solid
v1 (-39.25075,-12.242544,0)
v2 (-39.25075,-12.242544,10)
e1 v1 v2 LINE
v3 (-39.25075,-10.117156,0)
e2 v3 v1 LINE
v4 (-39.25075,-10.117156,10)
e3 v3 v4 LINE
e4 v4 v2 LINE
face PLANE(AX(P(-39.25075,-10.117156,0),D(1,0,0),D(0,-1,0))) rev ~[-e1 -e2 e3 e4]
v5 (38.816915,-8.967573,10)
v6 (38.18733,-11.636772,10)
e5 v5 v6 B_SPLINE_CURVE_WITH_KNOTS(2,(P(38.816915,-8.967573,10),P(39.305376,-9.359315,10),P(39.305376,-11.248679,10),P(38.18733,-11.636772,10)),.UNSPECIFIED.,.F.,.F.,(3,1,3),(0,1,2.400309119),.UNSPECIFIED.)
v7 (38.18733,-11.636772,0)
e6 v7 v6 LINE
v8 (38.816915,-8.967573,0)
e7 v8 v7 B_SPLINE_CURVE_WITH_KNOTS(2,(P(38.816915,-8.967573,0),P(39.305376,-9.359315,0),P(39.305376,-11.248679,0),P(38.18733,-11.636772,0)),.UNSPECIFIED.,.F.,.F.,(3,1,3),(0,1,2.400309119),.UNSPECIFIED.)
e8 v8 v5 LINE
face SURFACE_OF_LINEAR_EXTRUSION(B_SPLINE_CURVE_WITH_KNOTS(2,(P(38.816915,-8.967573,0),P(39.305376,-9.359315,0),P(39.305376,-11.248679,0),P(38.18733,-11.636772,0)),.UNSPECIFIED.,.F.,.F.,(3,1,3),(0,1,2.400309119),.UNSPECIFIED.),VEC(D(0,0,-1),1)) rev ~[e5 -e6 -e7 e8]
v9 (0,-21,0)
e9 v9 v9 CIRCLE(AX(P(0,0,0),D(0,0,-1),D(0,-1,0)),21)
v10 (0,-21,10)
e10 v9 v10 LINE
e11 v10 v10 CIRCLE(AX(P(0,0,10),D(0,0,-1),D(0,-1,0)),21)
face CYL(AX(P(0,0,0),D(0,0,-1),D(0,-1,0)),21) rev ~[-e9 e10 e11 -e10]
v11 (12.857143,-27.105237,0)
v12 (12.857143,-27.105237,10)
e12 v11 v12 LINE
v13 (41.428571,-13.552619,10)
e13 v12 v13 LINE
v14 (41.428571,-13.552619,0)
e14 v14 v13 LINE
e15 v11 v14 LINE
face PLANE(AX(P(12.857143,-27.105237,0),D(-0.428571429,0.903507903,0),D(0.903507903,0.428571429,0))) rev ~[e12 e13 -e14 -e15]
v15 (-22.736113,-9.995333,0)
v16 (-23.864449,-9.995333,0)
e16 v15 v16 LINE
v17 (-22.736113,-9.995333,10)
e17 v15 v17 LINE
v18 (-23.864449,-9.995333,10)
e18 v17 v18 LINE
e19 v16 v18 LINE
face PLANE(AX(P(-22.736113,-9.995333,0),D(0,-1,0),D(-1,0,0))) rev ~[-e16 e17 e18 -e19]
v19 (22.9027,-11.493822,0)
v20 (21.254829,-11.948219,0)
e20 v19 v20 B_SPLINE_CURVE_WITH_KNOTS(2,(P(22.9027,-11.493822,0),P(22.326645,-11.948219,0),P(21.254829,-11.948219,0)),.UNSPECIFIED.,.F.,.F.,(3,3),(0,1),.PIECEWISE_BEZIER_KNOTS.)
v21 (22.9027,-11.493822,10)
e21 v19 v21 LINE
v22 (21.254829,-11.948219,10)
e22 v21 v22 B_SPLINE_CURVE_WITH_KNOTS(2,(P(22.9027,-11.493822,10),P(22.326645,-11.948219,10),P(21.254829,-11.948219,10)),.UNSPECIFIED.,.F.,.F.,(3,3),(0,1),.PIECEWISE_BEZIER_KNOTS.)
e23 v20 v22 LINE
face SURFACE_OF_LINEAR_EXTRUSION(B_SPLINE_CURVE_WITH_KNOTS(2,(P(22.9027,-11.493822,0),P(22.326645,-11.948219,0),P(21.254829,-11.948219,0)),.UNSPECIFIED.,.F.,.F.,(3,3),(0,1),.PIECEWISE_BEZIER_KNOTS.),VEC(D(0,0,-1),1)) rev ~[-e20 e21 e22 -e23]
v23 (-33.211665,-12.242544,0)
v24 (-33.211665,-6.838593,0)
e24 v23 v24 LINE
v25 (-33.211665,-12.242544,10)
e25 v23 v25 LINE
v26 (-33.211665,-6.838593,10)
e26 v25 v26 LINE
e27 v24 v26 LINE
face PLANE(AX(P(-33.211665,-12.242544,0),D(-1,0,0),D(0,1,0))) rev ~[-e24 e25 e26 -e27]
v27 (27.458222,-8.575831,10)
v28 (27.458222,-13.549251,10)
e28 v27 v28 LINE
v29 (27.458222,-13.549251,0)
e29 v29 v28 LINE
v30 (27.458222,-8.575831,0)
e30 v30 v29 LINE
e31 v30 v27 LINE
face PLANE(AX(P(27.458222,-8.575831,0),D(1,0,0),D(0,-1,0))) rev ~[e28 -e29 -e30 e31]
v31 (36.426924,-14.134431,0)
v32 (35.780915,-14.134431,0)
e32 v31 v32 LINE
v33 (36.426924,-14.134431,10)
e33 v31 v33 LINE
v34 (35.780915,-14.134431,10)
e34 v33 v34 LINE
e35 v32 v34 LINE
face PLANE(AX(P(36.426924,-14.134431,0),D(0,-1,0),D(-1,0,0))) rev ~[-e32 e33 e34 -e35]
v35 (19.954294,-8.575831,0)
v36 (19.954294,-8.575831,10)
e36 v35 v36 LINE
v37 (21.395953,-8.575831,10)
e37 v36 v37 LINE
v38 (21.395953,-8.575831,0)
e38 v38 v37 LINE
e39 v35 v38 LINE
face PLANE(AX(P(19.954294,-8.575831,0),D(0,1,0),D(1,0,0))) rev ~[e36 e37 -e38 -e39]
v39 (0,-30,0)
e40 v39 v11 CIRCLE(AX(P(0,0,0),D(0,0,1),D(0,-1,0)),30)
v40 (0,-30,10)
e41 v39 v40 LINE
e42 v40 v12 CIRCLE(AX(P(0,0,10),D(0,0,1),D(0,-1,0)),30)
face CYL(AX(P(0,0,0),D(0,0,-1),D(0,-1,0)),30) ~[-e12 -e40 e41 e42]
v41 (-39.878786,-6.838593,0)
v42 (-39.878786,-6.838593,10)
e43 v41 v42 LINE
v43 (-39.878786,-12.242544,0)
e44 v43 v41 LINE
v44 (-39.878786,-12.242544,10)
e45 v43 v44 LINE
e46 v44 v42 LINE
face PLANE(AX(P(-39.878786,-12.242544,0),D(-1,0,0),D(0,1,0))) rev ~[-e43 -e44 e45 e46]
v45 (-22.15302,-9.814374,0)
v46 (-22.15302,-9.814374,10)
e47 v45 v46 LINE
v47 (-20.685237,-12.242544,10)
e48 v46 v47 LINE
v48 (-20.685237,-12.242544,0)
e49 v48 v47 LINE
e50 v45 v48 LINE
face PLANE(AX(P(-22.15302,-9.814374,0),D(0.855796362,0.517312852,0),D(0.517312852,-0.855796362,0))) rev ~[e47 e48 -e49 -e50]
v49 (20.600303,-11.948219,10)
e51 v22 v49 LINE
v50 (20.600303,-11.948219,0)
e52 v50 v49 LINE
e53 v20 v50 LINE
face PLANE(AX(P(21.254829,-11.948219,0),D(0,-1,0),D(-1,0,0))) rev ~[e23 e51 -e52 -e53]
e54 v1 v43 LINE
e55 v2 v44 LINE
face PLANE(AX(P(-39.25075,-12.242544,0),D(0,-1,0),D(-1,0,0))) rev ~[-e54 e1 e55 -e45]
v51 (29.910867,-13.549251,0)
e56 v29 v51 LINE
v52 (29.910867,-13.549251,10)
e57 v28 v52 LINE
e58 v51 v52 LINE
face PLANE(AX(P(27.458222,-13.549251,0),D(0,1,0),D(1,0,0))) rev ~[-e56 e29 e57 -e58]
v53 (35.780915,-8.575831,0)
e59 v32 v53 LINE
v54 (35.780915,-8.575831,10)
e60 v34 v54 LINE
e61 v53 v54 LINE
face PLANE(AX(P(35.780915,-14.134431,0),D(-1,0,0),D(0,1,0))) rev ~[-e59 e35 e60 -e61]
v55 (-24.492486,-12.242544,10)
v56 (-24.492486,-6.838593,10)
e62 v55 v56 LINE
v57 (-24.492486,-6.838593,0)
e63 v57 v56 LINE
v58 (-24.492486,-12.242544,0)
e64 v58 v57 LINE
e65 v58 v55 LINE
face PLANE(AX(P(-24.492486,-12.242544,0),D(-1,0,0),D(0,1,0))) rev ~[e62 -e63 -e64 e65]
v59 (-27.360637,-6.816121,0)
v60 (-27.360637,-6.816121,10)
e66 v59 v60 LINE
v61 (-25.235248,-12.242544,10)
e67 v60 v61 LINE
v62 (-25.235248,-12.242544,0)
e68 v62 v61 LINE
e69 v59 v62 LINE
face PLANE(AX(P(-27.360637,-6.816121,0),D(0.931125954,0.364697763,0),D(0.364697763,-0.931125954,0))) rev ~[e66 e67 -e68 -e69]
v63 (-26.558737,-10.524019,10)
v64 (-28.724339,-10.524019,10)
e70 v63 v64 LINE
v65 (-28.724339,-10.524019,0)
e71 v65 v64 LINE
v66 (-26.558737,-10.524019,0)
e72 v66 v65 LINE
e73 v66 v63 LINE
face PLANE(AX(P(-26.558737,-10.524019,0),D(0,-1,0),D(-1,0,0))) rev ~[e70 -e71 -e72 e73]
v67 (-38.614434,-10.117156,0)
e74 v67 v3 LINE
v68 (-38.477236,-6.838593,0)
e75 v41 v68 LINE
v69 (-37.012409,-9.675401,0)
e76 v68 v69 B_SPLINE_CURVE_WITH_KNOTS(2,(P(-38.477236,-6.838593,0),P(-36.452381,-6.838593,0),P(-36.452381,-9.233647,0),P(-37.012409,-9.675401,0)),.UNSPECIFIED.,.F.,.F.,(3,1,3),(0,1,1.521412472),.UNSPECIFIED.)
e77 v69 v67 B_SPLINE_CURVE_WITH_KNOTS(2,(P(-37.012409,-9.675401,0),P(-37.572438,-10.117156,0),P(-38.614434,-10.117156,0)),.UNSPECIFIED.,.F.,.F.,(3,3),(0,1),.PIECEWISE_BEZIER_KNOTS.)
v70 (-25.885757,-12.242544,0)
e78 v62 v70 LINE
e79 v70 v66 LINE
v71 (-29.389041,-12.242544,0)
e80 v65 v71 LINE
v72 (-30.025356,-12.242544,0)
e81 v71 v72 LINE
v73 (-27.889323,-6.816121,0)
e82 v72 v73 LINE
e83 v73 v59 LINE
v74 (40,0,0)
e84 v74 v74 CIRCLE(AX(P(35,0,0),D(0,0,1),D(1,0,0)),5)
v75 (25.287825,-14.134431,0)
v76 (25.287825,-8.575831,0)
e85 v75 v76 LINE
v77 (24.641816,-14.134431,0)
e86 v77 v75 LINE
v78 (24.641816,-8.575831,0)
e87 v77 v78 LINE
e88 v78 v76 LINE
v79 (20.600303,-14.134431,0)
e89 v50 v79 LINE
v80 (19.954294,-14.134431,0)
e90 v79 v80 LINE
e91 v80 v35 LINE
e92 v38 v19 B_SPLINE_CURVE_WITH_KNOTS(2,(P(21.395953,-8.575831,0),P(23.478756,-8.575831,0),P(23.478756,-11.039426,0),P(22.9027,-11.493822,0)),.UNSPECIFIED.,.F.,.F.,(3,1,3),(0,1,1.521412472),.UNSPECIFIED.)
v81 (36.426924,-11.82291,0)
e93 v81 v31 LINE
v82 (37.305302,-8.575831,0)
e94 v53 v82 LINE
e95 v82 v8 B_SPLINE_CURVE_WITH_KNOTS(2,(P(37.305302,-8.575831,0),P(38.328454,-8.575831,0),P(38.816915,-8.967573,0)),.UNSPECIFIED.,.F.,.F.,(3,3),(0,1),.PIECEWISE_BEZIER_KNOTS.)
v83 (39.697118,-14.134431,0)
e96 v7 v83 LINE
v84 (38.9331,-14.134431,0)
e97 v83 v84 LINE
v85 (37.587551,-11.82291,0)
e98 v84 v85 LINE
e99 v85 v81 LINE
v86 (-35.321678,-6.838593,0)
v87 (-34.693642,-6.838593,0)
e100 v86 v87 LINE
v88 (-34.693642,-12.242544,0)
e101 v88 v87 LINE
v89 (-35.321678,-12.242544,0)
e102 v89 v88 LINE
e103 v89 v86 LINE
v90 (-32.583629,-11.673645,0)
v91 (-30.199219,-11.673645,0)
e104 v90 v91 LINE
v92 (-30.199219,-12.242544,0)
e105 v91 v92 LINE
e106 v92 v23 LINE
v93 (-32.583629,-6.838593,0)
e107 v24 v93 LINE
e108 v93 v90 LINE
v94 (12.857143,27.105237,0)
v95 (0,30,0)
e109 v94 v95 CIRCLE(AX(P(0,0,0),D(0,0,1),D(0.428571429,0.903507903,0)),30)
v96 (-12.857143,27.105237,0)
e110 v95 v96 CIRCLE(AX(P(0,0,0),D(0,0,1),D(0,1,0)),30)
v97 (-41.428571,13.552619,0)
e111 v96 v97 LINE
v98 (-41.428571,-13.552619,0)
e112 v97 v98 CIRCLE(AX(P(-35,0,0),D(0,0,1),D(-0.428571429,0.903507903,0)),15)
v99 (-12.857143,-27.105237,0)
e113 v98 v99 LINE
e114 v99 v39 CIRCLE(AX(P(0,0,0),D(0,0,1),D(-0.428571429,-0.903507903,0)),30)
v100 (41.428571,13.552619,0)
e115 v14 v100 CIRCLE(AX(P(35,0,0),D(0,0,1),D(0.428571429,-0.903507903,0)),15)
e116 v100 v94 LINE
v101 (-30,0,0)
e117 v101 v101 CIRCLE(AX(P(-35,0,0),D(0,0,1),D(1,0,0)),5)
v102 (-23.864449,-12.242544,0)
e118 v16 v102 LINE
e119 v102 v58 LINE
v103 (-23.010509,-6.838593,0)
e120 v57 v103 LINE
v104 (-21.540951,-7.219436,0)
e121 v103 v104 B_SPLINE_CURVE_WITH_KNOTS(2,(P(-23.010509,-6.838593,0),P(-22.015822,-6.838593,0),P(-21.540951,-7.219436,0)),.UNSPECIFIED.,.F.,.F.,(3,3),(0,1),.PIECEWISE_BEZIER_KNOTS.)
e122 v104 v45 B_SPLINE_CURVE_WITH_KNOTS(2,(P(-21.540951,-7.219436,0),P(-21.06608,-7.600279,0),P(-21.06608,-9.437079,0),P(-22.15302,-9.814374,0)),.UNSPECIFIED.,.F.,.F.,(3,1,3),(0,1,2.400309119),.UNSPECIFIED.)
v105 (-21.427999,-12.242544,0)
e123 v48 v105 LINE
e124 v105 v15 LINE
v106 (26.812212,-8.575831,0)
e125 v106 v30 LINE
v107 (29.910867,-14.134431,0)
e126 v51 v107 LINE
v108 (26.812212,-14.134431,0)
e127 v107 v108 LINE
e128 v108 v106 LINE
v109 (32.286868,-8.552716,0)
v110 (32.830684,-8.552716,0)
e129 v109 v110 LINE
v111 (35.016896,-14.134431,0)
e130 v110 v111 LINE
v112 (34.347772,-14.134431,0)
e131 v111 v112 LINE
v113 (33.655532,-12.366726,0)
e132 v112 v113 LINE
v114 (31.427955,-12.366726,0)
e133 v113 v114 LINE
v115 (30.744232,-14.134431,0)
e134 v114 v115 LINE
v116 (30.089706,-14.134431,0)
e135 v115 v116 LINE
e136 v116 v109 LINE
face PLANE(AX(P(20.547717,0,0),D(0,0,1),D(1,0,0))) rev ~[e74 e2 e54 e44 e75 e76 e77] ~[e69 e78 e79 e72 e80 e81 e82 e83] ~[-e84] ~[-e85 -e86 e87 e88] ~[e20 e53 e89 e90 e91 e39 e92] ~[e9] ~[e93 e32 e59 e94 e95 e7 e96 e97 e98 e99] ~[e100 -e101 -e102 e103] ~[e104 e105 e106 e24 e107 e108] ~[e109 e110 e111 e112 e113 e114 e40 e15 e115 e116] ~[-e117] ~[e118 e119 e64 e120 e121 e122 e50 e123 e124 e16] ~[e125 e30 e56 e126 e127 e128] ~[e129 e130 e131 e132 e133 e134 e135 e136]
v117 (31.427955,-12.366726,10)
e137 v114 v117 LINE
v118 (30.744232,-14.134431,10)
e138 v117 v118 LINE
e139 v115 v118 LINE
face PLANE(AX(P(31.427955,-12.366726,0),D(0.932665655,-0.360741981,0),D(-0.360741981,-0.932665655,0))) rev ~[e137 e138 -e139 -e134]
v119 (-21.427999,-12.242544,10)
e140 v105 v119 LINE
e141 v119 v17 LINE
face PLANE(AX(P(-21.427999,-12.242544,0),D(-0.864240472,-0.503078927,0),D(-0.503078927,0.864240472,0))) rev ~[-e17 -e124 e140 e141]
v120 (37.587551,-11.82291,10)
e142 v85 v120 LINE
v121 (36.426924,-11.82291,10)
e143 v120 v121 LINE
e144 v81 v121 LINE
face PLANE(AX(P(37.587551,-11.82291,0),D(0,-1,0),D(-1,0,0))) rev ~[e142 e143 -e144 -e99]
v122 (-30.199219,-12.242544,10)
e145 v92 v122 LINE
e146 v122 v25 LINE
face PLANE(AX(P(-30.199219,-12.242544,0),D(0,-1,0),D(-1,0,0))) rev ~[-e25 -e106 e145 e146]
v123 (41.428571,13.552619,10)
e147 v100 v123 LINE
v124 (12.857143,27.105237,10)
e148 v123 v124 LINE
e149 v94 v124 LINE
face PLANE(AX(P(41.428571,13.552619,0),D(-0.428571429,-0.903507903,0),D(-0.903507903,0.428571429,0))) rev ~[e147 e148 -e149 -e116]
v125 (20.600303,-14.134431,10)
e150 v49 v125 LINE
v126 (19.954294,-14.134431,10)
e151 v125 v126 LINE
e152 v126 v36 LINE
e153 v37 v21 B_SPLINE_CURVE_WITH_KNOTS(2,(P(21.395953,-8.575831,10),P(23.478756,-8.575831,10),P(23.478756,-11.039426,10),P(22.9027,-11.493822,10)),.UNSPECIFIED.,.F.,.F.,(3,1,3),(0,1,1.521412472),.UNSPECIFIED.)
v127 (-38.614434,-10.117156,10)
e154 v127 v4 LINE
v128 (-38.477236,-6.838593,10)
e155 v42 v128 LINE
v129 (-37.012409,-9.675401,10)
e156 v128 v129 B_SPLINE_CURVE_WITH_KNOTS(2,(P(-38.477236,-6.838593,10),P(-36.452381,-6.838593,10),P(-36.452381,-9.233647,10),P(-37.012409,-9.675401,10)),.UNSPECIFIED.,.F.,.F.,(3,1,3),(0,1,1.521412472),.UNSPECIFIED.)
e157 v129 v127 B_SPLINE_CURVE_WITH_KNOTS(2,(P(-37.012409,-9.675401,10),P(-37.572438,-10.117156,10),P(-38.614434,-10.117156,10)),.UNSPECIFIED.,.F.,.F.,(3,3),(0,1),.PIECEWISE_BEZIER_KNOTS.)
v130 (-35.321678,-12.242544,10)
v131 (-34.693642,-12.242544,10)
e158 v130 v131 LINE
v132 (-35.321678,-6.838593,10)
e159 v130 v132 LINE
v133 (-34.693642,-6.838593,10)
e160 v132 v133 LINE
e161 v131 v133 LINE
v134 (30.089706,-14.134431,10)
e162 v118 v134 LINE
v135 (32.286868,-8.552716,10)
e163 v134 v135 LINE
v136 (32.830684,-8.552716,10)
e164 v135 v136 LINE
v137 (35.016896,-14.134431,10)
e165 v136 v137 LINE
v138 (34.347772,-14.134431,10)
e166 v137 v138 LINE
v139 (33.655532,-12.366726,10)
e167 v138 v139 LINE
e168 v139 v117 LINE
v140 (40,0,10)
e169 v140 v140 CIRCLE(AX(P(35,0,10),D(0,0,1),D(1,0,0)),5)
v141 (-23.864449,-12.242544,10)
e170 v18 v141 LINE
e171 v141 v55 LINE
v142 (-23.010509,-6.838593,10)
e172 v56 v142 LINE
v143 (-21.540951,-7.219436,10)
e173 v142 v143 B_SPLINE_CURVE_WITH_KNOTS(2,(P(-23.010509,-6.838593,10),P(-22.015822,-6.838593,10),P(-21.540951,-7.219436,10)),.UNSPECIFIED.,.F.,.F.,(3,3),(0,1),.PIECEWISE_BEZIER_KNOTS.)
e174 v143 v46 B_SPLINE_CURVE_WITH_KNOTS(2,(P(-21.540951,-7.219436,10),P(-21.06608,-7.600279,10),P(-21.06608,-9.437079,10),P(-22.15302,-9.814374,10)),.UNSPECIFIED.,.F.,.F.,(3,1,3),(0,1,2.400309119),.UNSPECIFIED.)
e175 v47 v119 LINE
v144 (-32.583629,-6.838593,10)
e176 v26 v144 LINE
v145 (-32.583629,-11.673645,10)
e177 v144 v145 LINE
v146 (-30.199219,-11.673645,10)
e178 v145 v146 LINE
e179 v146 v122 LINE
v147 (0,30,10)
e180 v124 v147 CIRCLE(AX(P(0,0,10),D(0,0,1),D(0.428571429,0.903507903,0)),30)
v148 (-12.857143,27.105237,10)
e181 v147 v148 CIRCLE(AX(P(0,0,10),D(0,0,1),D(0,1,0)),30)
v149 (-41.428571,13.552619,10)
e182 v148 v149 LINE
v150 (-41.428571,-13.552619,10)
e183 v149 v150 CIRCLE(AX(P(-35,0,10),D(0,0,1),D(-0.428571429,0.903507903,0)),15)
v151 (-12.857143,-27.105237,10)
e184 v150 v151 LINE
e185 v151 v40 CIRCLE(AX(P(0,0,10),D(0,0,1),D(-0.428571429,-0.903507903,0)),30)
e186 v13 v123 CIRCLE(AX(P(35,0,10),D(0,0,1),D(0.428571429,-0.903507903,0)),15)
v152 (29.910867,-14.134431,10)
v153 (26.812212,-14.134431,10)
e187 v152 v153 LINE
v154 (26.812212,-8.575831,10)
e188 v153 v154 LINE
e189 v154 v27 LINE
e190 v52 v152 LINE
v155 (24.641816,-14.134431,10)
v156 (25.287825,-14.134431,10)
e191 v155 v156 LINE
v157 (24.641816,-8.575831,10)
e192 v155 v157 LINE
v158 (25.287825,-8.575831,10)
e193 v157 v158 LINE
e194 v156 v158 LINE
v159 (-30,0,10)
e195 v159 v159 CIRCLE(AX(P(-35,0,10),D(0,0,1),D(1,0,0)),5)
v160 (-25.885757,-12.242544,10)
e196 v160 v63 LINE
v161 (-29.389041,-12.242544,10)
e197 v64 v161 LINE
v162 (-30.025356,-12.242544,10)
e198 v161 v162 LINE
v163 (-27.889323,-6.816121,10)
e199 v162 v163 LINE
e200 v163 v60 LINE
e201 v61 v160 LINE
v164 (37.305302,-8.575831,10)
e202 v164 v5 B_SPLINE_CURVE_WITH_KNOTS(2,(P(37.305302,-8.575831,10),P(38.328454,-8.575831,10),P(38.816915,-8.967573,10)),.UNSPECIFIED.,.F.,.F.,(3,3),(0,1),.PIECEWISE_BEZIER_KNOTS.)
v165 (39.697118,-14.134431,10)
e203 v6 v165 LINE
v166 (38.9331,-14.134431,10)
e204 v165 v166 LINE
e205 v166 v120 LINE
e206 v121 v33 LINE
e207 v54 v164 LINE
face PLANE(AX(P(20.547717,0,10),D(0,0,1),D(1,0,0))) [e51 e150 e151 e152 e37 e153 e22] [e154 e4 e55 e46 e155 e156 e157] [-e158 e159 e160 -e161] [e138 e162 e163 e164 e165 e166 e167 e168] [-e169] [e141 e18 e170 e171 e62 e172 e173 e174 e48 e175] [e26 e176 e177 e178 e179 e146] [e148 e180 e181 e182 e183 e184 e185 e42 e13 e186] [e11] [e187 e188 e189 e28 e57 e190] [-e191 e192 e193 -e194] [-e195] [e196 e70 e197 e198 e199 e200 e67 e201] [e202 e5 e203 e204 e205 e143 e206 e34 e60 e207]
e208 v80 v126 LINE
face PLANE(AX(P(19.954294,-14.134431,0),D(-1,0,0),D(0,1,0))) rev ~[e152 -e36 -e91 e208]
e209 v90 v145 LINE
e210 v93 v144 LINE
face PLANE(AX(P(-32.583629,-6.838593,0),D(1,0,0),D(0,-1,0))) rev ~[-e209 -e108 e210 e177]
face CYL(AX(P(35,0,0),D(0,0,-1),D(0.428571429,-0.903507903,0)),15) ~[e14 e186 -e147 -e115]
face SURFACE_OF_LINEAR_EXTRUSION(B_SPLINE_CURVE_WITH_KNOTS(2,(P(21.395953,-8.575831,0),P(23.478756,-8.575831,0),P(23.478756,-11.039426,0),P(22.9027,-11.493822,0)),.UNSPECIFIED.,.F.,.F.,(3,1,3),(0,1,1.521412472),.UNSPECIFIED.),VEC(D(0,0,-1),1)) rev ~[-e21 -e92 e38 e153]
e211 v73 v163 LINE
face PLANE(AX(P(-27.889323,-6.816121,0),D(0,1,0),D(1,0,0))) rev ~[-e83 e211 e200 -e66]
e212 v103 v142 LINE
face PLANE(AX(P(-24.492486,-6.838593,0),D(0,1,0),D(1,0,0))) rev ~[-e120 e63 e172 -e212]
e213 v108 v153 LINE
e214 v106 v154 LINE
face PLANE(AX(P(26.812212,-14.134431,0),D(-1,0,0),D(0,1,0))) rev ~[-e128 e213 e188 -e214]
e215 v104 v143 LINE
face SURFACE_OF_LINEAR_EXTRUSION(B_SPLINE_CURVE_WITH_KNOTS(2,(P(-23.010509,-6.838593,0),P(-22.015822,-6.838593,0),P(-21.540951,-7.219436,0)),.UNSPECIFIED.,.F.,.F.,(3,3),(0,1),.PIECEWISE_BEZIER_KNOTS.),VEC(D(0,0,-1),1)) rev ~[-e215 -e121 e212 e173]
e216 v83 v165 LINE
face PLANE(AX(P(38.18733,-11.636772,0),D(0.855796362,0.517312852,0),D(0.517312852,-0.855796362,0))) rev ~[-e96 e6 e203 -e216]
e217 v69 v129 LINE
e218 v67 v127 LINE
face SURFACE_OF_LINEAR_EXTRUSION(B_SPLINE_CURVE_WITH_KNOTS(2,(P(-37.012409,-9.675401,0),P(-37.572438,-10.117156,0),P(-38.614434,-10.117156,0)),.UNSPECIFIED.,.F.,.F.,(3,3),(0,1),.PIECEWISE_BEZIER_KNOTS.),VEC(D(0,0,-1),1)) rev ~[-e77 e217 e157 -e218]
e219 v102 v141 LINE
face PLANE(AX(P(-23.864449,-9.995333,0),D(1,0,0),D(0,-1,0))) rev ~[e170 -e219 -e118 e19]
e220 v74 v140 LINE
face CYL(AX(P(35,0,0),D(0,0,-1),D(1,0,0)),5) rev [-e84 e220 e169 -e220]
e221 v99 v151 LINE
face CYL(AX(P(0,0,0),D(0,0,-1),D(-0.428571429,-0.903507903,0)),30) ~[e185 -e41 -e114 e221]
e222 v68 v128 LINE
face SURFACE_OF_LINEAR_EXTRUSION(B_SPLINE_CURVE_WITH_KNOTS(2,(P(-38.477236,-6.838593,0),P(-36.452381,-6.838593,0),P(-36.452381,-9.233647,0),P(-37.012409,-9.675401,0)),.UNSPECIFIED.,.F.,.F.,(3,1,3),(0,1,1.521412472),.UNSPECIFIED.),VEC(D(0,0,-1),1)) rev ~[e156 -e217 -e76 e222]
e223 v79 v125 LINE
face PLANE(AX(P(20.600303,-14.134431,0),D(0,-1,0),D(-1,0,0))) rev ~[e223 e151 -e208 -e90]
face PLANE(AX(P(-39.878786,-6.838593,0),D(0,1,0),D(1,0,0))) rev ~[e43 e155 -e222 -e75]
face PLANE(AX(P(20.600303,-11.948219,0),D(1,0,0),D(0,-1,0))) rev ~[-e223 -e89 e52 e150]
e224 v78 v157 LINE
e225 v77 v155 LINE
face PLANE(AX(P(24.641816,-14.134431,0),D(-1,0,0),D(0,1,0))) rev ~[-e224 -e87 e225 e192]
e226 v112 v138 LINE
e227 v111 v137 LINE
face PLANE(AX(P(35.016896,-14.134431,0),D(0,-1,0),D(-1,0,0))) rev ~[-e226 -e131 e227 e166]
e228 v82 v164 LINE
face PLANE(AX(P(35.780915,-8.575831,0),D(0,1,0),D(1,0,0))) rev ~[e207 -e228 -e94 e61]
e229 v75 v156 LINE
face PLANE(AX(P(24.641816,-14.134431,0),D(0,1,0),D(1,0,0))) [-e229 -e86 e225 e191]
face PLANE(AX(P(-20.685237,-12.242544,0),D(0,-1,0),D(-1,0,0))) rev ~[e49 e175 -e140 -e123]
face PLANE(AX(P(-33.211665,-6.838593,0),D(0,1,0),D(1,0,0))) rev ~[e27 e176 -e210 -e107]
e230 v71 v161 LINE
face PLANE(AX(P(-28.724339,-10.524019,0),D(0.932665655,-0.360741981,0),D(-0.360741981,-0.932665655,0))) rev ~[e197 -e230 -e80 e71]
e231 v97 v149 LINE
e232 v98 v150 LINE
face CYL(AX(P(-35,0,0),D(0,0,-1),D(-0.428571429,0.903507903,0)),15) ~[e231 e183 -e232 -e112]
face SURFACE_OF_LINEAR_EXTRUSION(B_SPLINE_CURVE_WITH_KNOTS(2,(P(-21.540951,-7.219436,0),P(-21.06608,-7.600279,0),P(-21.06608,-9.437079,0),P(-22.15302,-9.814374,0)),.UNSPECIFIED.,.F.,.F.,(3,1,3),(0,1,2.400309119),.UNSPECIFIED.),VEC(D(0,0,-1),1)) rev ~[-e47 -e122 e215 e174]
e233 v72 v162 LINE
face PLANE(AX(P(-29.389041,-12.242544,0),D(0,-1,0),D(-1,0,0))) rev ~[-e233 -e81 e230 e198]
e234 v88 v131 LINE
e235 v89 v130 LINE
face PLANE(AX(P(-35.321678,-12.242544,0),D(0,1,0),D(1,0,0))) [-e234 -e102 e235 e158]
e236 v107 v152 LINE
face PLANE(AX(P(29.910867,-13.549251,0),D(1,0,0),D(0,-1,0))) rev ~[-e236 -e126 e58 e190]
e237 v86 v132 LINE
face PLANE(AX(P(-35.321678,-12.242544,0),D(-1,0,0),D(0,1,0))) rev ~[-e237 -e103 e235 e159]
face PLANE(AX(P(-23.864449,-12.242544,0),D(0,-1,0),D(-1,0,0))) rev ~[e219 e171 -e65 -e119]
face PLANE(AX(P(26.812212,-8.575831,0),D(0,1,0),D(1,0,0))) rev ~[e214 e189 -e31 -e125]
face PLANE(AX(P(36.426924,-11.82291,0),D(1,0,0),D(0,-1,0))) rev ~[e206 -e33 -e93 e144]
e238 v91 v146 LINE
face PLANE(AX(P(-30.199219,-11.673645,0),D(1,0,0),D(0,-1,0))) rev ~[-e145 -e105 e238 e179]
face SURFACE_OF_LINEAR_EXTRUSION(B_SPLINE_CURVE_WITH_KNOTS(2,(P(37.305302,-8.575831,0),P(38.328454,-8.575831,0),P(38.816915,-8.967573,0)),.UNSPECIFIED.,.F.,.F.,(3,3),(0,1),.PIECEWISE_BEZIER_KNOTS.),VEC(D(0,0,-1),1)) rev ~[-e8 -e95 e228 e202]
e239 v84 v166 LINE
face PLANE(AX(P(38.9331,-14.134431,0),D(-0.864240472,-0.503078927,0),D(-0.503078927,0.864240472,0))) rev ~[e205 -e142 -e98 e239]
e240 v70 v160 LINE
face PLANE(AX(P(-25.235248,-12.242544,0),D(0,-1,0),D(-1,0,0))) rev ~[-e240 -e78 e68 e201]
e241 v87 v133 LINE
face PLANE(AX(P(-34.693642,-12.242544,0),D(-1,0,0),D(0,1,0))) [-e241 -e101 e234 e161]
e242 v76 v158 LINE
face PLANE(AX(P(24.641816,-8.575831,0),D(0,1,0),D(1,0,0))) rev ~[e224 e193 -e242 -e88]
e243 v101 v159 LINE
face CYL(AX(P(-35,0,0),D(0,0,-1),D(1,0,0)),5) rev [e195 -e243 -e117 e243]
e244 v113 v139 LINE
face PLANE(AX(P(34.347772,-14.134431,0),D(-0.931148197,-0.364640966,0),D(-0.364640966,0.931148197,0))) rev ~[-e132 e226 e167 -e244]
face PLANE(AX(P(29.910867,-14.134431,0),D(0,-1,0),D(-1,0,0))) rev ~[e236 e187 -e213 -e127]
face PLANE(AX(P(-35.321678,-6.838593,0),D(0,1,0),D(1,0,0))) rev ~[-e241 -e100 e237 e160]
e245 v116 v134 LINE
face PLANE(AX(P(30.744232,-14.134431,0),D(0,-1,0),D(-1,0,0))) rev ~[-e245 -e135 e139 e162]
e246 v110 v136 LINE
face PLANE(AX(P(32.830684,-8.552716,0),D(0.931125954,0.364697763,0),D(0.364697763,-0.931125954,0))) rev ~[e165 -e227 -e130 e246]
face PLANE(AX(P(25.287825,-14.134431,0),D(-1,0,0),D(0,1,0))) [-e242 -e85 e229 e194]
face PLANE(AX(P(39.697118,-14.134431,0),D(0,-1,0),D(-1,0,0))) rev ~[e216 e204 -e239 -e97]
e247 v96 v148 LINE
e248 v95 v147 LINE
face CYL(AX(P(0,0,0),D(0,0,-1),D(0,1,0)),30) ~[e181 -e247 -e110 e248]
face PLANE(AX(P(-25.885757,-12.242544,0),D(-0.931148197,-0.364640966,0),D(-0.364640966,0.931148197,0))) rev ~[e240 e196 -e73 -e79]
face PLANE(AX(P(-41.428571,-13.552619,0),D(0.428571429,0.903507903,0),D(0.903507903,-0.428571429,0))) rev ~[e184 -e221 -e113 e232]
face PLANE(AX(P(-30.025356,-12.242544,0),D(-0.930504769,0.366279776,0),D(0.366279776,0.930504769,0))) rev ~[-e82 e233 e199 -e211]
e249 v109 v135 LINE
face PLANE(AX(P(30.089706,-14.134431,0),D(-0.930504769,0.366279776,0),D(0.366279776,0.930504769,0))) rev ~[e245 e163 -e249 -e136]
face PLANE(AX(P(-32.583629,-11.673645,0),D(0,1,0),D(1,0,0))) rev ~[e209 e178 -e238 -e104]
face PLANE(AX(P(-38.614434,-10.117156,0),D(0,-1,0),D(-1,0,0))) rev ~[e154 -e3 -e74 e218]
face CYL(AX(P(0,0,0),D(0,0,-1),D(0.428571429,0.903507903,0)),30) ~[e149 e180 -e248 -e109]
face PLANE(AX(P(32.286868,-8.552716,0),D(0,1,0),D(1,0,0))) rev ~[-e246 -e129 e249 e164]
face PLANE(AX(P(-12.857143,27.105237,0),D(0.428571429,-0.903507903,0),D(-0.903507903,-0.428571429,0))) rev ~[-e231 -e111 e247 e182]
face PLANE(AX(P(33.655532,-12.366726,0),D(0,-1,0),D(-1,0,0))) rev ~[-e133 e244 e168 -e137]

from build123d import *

# Parameters (mm, degrees)
F0_W     = 0.6460093453
F0_H     = 5.5586001861
F0_R     = 5
F0_W_2   = 0.6280364187
F0_H_2   = 5.4039517833
F1_DEPTH = 10


with BuildPart() as f1:
    # F0 (on Top) → F1 (new body)
    with BuildSketch(Plane.XY):
        with BuildLine():
            ThreePointArc((0, 21), (21, 0), (0, -21))
            Line((0, -21), (0, -30))
            ThreePointArc((0, -30), (6.5894949497, -29.2673633303), (12.8571428571, -27.1052370872))
            Line((12.8571428571, -27.1052370872), (41.4285714286, -13.5526185436))
            ThreePointArc((41.4285714286, -13.5526185436), (50, 0), (41.4285714286, 13.5526185436))
            Line((41.4285714286, 13.5526185436), (12.8571428571, 27.1052370872))
            ThreePointArc((12.8571428571, 27.1052370872), (6.5894949497, 29.2673633303), (0, 30))
            Line((0, 30), (0, 21))
        make_face()
        with BuildLine():
            add(Edge.make_bspline(
                [(21.3959532578, -8.5758308066), (23.4787555162, -8.5758308066), (23.4787555162, -10.1951122353)],
                knots=[0, 0, 0, 1, 1, 1], degree=2))
            add(Edge.make_bspline(
                [(23.4787555162, -10.1951122353), (23.4787555162, -11.0394257676), (22.9027001019, -11.4938221715)],
                knots=[0, 0, 0, 1, 1, 1], degree=2))
            add(Edge.make_bspline(
                [(22.9027001019, -11.4938221715), (22.3266446875, -11.9482185755), (21.2548288057, -11.9482185755)],
                knots=[0, 0, 0, 1, 1, 1], degree=2))
            Line((21.2548288057, -11.9482185755), (20.6003033297, -11.9482185755))
            Line((20.6003033297, -11.9482185755), (20.6003033297, -14.1344309927))
            Line((20.6003033297, -14.1344309927), (19.9542939844, -14.1344309927))
            Line((19.9542939844, -14.1344309927), (19.9542939844, -8.5758308066))
            Line((19.9542939844, -8.5758308066), (21.3959532578, -8.5758308066))
        make_face(mode=Mode.SUBTRACT)
        with Locations((24.9648203285, -11.3551308997)):
            Rectangle(F0_W, F0_H, mode=Mode.SUBTRACT)
        Polygon((29.9108673971, -14.1344309927), (26.8122124017, -14.1344309927), (26.8122124017, -8.5758308066), (27.458221747, -8.5758308066), (27.458221747, -13.5492511526), (29.9108673971, -13.5492511526), align=None, mode=Mode.SUBTRACT)
        Polygon((35.0168960644, -14.1344309927), (34.347771507, -14.1344309927), (33.6555317378, -12.3667255713), (31.427955257, -12.3667255713), (30.7442316184, -14.1344309927), (30.0897061424, -14.1344309927), (32.2868678705, -8.5527155947), (32.8306836471, -8.5527155947), align=None, mode=Mode.SUBTRACT)
        with BuildLine():
            Line((37.5875509545, -11.8229097947), (36.4269239951, -11.8229097947))
            Line((36.4269239951, -11.8229097947), (36.4269239951, -14.1344309927))
            Line((36.4269239951, -14.1344309927), (35.7809146498, -14.1344309927))
            Line((35.7809146498, -14.1344309927), (35.7809146498, -8.5758308066))
            Line((35.7809146498, -8.5758308066), (37.3053020503, -8.5758308066))
            add(Edge.make_bspline(
                [(37.3053020503, -8.5758308066), (38.328454328, -8.5758308066), (38.8169152548, -8.9675728202)],
                knots=[0, 0, 0, 1, 1, 1], degree=2))
            add(Edge.make_bspline(
                [(38.8169152548, -8.9675728202), (39.3053761816, -9.3593148337), (39.3053761816, -10.1464486312)],
                knots=[0, 0, 0, 1, 1, 1], degree=2))
            add(Edge.make_bspline(
                [(39.3053761816, -10.1464486312), (39.3053761816, -11.2486792655), (38.1873298759, -11.6367715088)],
                knots=[0, 0, 0, 1, 1, 1], degree=2))
            Line((38.1873298759, -11.6367715088), (39.6971181952, -14.1344309927))
            Line((39.6971181952, -14.1344309927), (38.9330996097, -14.1344309927))
            Line((38.9330996097, -14.1344309927), (37.5875509545, -11.8229097947))
        make_face(mode=Mode.SUBTRACT)
        with Locations((35, 0)):
            Circle(F0_R, mode=Mode.SUBTRACT)
        with BuildLine():
            Line((0, -30), (0, -21))
            ThreePointArc((0, -21), (-21, 0), (0, 21))
            Line((0, 21), (0, 30))
            ThreePointArc((0, 30), (-6.5894949497, 29.2673633303), (-12.8571428571, 27.1052370872))
            Line((-12.8571428571, 27.1052370872), (-41.4285714286, 13.5526185436))
            ThreePointArc((-41.4285714286, 13.5526185436), (-50, 0), (-41.4285714286, -13.5526185436))
            Line((-41.4285714286, -13.5526185436), (-12.8571428571, -27.1052370872))
            ThreePointArc((-12.8571428571, -27.1052370872), (-6.5894949497, -29.2673633303), (0, -30))
        make_face()
        with BuildLine():
            add(Edge.make_bspline(
                [(-38.4772362224, -6.8385926591), (-36.452380575, -6.8385926591), (-36.452380575, -8.4128233056)],
                knots=[0, 0, 0, 1, 1, 1], degree=2))
            add(Edge.make_bspline(
                [(-36.452380575, -8.4128233056), (-36.452380575, -9.2336467981), (-37.0124092836, -9.6754012282)],
                knots=[0, 0, 0, 1, 1, 1], degree=2))
            add(Edge.make_bspline(
                [(-37.0124092836, -9.6754012282), (-37.5724379921, -10.1171556583), (-38.6144343854, -10.1171556583)],
                knots=[0, 0, 0, 1, 1, 1], degree=2))
            Line((-38.6144343854, -10.1171556583), (-39.2507500036, -10.1171556583))
            Line((-39.2507500036, -10.1171556583), (-39.2507500036, -12.2425444424))
            Line((-39.2507500036, -12.2425444424), (-39.8787864223, -12.2425444424))
            Line((-39.8787864223, -12.2425444424), (-39.8787864223, -6.8385926591))
            Line((-39.8787864223, -6.8385926591), (-38.4772362224, -6.8385926591))
        make_face(mode=Mode.SUBTRACT)
        with Locations((-35.0076602635, -9.5405685508)):
            Rectangle(F0_W_2, F0_H_2, mode=Mode.SUBTRACT)
        Polygon((-30.1992194723, -12.2425444424), (-33.2116653449, -12.2425444424), (-33.2116653449, -6.8385926591), (-32.5836289263, -6.8385926591), (-32.5836289263, -11.673645163), (-30.1992194723, -11.673645163), align=None, mode=Mode.SUBTRACT)
        Polygon((-25.2352480049, -12.2425444424), (-25.8857565365, -12.2425444424), (-26.558737181, -10.5240191762), (-28.7243392198, -10.5240191762), (-29.3890406648, -12.2425444424), (-30.025356283, -12.2425444424), (-27.8893228138, -6.8161205462), (-27.360636789, -6.8161205462), align=None, mode=Mode.SUBTRACT)
        with Locations((-35, 0)):
            Circle(F0_R, mode=Mode.SUBTRACT)
        with BuildLine():
            Line((-22.7361125009, -9.9953331515), (-23.8644491175, -9.9953331515))
            Line((-23.8644491175, -9.9953331515), (-23.8644491175, -12.2425444424))
            Line((-23.8644491175, -12.2425444424), (-24.4924855361, -12.2425444424))
            Line((-24.4924855361, -12.2425444424), (-24.4924855361, -6.8385926591))
            Line((-24.4924855361, -6.8385926591), (-23.0105088269, -6.8385926591))
            add(Edge.make_bspline(
                [(-23.0105088269, -6.8385926591), (-22.015822145, -6.8385926591), (-21.5409509169, -7.2194358358)],
                knots=[0, 0, 0, 1, 1, 1], degree=2))
            add(Edge.make_bspline(
                [(-21.5409509169, -7.2194358358), (-21.0660796889, -7.6002790125), (-21.0660796889, -8.3655135942)],
                knots=[0, 0, 0, 1, 1, 1], degree=2))
            add(Edge.make_bspline(
                [(-21.0660796889, -8.3655135942), (-21.0660796889, -9.4370785571), (-22.153020308, -9.8143735054)],
                knots=[0, 0, 0, 1, 1, 1], degree=2))
            Line((-22.153020308, -9.8143735054), (-20.6852365122, -12.2425444424))
            Line((-20.6852365122, -12.2425444424), (-21.427998981, -12.2425444424))
            Line((-21.427998981, -12.2425444424), (-22.7361125009, -9.9953331515))
        make_face(mode=Mode.SUBTRACT)
    extrude(amount=F1_DEPTH)


solid = f1.part
